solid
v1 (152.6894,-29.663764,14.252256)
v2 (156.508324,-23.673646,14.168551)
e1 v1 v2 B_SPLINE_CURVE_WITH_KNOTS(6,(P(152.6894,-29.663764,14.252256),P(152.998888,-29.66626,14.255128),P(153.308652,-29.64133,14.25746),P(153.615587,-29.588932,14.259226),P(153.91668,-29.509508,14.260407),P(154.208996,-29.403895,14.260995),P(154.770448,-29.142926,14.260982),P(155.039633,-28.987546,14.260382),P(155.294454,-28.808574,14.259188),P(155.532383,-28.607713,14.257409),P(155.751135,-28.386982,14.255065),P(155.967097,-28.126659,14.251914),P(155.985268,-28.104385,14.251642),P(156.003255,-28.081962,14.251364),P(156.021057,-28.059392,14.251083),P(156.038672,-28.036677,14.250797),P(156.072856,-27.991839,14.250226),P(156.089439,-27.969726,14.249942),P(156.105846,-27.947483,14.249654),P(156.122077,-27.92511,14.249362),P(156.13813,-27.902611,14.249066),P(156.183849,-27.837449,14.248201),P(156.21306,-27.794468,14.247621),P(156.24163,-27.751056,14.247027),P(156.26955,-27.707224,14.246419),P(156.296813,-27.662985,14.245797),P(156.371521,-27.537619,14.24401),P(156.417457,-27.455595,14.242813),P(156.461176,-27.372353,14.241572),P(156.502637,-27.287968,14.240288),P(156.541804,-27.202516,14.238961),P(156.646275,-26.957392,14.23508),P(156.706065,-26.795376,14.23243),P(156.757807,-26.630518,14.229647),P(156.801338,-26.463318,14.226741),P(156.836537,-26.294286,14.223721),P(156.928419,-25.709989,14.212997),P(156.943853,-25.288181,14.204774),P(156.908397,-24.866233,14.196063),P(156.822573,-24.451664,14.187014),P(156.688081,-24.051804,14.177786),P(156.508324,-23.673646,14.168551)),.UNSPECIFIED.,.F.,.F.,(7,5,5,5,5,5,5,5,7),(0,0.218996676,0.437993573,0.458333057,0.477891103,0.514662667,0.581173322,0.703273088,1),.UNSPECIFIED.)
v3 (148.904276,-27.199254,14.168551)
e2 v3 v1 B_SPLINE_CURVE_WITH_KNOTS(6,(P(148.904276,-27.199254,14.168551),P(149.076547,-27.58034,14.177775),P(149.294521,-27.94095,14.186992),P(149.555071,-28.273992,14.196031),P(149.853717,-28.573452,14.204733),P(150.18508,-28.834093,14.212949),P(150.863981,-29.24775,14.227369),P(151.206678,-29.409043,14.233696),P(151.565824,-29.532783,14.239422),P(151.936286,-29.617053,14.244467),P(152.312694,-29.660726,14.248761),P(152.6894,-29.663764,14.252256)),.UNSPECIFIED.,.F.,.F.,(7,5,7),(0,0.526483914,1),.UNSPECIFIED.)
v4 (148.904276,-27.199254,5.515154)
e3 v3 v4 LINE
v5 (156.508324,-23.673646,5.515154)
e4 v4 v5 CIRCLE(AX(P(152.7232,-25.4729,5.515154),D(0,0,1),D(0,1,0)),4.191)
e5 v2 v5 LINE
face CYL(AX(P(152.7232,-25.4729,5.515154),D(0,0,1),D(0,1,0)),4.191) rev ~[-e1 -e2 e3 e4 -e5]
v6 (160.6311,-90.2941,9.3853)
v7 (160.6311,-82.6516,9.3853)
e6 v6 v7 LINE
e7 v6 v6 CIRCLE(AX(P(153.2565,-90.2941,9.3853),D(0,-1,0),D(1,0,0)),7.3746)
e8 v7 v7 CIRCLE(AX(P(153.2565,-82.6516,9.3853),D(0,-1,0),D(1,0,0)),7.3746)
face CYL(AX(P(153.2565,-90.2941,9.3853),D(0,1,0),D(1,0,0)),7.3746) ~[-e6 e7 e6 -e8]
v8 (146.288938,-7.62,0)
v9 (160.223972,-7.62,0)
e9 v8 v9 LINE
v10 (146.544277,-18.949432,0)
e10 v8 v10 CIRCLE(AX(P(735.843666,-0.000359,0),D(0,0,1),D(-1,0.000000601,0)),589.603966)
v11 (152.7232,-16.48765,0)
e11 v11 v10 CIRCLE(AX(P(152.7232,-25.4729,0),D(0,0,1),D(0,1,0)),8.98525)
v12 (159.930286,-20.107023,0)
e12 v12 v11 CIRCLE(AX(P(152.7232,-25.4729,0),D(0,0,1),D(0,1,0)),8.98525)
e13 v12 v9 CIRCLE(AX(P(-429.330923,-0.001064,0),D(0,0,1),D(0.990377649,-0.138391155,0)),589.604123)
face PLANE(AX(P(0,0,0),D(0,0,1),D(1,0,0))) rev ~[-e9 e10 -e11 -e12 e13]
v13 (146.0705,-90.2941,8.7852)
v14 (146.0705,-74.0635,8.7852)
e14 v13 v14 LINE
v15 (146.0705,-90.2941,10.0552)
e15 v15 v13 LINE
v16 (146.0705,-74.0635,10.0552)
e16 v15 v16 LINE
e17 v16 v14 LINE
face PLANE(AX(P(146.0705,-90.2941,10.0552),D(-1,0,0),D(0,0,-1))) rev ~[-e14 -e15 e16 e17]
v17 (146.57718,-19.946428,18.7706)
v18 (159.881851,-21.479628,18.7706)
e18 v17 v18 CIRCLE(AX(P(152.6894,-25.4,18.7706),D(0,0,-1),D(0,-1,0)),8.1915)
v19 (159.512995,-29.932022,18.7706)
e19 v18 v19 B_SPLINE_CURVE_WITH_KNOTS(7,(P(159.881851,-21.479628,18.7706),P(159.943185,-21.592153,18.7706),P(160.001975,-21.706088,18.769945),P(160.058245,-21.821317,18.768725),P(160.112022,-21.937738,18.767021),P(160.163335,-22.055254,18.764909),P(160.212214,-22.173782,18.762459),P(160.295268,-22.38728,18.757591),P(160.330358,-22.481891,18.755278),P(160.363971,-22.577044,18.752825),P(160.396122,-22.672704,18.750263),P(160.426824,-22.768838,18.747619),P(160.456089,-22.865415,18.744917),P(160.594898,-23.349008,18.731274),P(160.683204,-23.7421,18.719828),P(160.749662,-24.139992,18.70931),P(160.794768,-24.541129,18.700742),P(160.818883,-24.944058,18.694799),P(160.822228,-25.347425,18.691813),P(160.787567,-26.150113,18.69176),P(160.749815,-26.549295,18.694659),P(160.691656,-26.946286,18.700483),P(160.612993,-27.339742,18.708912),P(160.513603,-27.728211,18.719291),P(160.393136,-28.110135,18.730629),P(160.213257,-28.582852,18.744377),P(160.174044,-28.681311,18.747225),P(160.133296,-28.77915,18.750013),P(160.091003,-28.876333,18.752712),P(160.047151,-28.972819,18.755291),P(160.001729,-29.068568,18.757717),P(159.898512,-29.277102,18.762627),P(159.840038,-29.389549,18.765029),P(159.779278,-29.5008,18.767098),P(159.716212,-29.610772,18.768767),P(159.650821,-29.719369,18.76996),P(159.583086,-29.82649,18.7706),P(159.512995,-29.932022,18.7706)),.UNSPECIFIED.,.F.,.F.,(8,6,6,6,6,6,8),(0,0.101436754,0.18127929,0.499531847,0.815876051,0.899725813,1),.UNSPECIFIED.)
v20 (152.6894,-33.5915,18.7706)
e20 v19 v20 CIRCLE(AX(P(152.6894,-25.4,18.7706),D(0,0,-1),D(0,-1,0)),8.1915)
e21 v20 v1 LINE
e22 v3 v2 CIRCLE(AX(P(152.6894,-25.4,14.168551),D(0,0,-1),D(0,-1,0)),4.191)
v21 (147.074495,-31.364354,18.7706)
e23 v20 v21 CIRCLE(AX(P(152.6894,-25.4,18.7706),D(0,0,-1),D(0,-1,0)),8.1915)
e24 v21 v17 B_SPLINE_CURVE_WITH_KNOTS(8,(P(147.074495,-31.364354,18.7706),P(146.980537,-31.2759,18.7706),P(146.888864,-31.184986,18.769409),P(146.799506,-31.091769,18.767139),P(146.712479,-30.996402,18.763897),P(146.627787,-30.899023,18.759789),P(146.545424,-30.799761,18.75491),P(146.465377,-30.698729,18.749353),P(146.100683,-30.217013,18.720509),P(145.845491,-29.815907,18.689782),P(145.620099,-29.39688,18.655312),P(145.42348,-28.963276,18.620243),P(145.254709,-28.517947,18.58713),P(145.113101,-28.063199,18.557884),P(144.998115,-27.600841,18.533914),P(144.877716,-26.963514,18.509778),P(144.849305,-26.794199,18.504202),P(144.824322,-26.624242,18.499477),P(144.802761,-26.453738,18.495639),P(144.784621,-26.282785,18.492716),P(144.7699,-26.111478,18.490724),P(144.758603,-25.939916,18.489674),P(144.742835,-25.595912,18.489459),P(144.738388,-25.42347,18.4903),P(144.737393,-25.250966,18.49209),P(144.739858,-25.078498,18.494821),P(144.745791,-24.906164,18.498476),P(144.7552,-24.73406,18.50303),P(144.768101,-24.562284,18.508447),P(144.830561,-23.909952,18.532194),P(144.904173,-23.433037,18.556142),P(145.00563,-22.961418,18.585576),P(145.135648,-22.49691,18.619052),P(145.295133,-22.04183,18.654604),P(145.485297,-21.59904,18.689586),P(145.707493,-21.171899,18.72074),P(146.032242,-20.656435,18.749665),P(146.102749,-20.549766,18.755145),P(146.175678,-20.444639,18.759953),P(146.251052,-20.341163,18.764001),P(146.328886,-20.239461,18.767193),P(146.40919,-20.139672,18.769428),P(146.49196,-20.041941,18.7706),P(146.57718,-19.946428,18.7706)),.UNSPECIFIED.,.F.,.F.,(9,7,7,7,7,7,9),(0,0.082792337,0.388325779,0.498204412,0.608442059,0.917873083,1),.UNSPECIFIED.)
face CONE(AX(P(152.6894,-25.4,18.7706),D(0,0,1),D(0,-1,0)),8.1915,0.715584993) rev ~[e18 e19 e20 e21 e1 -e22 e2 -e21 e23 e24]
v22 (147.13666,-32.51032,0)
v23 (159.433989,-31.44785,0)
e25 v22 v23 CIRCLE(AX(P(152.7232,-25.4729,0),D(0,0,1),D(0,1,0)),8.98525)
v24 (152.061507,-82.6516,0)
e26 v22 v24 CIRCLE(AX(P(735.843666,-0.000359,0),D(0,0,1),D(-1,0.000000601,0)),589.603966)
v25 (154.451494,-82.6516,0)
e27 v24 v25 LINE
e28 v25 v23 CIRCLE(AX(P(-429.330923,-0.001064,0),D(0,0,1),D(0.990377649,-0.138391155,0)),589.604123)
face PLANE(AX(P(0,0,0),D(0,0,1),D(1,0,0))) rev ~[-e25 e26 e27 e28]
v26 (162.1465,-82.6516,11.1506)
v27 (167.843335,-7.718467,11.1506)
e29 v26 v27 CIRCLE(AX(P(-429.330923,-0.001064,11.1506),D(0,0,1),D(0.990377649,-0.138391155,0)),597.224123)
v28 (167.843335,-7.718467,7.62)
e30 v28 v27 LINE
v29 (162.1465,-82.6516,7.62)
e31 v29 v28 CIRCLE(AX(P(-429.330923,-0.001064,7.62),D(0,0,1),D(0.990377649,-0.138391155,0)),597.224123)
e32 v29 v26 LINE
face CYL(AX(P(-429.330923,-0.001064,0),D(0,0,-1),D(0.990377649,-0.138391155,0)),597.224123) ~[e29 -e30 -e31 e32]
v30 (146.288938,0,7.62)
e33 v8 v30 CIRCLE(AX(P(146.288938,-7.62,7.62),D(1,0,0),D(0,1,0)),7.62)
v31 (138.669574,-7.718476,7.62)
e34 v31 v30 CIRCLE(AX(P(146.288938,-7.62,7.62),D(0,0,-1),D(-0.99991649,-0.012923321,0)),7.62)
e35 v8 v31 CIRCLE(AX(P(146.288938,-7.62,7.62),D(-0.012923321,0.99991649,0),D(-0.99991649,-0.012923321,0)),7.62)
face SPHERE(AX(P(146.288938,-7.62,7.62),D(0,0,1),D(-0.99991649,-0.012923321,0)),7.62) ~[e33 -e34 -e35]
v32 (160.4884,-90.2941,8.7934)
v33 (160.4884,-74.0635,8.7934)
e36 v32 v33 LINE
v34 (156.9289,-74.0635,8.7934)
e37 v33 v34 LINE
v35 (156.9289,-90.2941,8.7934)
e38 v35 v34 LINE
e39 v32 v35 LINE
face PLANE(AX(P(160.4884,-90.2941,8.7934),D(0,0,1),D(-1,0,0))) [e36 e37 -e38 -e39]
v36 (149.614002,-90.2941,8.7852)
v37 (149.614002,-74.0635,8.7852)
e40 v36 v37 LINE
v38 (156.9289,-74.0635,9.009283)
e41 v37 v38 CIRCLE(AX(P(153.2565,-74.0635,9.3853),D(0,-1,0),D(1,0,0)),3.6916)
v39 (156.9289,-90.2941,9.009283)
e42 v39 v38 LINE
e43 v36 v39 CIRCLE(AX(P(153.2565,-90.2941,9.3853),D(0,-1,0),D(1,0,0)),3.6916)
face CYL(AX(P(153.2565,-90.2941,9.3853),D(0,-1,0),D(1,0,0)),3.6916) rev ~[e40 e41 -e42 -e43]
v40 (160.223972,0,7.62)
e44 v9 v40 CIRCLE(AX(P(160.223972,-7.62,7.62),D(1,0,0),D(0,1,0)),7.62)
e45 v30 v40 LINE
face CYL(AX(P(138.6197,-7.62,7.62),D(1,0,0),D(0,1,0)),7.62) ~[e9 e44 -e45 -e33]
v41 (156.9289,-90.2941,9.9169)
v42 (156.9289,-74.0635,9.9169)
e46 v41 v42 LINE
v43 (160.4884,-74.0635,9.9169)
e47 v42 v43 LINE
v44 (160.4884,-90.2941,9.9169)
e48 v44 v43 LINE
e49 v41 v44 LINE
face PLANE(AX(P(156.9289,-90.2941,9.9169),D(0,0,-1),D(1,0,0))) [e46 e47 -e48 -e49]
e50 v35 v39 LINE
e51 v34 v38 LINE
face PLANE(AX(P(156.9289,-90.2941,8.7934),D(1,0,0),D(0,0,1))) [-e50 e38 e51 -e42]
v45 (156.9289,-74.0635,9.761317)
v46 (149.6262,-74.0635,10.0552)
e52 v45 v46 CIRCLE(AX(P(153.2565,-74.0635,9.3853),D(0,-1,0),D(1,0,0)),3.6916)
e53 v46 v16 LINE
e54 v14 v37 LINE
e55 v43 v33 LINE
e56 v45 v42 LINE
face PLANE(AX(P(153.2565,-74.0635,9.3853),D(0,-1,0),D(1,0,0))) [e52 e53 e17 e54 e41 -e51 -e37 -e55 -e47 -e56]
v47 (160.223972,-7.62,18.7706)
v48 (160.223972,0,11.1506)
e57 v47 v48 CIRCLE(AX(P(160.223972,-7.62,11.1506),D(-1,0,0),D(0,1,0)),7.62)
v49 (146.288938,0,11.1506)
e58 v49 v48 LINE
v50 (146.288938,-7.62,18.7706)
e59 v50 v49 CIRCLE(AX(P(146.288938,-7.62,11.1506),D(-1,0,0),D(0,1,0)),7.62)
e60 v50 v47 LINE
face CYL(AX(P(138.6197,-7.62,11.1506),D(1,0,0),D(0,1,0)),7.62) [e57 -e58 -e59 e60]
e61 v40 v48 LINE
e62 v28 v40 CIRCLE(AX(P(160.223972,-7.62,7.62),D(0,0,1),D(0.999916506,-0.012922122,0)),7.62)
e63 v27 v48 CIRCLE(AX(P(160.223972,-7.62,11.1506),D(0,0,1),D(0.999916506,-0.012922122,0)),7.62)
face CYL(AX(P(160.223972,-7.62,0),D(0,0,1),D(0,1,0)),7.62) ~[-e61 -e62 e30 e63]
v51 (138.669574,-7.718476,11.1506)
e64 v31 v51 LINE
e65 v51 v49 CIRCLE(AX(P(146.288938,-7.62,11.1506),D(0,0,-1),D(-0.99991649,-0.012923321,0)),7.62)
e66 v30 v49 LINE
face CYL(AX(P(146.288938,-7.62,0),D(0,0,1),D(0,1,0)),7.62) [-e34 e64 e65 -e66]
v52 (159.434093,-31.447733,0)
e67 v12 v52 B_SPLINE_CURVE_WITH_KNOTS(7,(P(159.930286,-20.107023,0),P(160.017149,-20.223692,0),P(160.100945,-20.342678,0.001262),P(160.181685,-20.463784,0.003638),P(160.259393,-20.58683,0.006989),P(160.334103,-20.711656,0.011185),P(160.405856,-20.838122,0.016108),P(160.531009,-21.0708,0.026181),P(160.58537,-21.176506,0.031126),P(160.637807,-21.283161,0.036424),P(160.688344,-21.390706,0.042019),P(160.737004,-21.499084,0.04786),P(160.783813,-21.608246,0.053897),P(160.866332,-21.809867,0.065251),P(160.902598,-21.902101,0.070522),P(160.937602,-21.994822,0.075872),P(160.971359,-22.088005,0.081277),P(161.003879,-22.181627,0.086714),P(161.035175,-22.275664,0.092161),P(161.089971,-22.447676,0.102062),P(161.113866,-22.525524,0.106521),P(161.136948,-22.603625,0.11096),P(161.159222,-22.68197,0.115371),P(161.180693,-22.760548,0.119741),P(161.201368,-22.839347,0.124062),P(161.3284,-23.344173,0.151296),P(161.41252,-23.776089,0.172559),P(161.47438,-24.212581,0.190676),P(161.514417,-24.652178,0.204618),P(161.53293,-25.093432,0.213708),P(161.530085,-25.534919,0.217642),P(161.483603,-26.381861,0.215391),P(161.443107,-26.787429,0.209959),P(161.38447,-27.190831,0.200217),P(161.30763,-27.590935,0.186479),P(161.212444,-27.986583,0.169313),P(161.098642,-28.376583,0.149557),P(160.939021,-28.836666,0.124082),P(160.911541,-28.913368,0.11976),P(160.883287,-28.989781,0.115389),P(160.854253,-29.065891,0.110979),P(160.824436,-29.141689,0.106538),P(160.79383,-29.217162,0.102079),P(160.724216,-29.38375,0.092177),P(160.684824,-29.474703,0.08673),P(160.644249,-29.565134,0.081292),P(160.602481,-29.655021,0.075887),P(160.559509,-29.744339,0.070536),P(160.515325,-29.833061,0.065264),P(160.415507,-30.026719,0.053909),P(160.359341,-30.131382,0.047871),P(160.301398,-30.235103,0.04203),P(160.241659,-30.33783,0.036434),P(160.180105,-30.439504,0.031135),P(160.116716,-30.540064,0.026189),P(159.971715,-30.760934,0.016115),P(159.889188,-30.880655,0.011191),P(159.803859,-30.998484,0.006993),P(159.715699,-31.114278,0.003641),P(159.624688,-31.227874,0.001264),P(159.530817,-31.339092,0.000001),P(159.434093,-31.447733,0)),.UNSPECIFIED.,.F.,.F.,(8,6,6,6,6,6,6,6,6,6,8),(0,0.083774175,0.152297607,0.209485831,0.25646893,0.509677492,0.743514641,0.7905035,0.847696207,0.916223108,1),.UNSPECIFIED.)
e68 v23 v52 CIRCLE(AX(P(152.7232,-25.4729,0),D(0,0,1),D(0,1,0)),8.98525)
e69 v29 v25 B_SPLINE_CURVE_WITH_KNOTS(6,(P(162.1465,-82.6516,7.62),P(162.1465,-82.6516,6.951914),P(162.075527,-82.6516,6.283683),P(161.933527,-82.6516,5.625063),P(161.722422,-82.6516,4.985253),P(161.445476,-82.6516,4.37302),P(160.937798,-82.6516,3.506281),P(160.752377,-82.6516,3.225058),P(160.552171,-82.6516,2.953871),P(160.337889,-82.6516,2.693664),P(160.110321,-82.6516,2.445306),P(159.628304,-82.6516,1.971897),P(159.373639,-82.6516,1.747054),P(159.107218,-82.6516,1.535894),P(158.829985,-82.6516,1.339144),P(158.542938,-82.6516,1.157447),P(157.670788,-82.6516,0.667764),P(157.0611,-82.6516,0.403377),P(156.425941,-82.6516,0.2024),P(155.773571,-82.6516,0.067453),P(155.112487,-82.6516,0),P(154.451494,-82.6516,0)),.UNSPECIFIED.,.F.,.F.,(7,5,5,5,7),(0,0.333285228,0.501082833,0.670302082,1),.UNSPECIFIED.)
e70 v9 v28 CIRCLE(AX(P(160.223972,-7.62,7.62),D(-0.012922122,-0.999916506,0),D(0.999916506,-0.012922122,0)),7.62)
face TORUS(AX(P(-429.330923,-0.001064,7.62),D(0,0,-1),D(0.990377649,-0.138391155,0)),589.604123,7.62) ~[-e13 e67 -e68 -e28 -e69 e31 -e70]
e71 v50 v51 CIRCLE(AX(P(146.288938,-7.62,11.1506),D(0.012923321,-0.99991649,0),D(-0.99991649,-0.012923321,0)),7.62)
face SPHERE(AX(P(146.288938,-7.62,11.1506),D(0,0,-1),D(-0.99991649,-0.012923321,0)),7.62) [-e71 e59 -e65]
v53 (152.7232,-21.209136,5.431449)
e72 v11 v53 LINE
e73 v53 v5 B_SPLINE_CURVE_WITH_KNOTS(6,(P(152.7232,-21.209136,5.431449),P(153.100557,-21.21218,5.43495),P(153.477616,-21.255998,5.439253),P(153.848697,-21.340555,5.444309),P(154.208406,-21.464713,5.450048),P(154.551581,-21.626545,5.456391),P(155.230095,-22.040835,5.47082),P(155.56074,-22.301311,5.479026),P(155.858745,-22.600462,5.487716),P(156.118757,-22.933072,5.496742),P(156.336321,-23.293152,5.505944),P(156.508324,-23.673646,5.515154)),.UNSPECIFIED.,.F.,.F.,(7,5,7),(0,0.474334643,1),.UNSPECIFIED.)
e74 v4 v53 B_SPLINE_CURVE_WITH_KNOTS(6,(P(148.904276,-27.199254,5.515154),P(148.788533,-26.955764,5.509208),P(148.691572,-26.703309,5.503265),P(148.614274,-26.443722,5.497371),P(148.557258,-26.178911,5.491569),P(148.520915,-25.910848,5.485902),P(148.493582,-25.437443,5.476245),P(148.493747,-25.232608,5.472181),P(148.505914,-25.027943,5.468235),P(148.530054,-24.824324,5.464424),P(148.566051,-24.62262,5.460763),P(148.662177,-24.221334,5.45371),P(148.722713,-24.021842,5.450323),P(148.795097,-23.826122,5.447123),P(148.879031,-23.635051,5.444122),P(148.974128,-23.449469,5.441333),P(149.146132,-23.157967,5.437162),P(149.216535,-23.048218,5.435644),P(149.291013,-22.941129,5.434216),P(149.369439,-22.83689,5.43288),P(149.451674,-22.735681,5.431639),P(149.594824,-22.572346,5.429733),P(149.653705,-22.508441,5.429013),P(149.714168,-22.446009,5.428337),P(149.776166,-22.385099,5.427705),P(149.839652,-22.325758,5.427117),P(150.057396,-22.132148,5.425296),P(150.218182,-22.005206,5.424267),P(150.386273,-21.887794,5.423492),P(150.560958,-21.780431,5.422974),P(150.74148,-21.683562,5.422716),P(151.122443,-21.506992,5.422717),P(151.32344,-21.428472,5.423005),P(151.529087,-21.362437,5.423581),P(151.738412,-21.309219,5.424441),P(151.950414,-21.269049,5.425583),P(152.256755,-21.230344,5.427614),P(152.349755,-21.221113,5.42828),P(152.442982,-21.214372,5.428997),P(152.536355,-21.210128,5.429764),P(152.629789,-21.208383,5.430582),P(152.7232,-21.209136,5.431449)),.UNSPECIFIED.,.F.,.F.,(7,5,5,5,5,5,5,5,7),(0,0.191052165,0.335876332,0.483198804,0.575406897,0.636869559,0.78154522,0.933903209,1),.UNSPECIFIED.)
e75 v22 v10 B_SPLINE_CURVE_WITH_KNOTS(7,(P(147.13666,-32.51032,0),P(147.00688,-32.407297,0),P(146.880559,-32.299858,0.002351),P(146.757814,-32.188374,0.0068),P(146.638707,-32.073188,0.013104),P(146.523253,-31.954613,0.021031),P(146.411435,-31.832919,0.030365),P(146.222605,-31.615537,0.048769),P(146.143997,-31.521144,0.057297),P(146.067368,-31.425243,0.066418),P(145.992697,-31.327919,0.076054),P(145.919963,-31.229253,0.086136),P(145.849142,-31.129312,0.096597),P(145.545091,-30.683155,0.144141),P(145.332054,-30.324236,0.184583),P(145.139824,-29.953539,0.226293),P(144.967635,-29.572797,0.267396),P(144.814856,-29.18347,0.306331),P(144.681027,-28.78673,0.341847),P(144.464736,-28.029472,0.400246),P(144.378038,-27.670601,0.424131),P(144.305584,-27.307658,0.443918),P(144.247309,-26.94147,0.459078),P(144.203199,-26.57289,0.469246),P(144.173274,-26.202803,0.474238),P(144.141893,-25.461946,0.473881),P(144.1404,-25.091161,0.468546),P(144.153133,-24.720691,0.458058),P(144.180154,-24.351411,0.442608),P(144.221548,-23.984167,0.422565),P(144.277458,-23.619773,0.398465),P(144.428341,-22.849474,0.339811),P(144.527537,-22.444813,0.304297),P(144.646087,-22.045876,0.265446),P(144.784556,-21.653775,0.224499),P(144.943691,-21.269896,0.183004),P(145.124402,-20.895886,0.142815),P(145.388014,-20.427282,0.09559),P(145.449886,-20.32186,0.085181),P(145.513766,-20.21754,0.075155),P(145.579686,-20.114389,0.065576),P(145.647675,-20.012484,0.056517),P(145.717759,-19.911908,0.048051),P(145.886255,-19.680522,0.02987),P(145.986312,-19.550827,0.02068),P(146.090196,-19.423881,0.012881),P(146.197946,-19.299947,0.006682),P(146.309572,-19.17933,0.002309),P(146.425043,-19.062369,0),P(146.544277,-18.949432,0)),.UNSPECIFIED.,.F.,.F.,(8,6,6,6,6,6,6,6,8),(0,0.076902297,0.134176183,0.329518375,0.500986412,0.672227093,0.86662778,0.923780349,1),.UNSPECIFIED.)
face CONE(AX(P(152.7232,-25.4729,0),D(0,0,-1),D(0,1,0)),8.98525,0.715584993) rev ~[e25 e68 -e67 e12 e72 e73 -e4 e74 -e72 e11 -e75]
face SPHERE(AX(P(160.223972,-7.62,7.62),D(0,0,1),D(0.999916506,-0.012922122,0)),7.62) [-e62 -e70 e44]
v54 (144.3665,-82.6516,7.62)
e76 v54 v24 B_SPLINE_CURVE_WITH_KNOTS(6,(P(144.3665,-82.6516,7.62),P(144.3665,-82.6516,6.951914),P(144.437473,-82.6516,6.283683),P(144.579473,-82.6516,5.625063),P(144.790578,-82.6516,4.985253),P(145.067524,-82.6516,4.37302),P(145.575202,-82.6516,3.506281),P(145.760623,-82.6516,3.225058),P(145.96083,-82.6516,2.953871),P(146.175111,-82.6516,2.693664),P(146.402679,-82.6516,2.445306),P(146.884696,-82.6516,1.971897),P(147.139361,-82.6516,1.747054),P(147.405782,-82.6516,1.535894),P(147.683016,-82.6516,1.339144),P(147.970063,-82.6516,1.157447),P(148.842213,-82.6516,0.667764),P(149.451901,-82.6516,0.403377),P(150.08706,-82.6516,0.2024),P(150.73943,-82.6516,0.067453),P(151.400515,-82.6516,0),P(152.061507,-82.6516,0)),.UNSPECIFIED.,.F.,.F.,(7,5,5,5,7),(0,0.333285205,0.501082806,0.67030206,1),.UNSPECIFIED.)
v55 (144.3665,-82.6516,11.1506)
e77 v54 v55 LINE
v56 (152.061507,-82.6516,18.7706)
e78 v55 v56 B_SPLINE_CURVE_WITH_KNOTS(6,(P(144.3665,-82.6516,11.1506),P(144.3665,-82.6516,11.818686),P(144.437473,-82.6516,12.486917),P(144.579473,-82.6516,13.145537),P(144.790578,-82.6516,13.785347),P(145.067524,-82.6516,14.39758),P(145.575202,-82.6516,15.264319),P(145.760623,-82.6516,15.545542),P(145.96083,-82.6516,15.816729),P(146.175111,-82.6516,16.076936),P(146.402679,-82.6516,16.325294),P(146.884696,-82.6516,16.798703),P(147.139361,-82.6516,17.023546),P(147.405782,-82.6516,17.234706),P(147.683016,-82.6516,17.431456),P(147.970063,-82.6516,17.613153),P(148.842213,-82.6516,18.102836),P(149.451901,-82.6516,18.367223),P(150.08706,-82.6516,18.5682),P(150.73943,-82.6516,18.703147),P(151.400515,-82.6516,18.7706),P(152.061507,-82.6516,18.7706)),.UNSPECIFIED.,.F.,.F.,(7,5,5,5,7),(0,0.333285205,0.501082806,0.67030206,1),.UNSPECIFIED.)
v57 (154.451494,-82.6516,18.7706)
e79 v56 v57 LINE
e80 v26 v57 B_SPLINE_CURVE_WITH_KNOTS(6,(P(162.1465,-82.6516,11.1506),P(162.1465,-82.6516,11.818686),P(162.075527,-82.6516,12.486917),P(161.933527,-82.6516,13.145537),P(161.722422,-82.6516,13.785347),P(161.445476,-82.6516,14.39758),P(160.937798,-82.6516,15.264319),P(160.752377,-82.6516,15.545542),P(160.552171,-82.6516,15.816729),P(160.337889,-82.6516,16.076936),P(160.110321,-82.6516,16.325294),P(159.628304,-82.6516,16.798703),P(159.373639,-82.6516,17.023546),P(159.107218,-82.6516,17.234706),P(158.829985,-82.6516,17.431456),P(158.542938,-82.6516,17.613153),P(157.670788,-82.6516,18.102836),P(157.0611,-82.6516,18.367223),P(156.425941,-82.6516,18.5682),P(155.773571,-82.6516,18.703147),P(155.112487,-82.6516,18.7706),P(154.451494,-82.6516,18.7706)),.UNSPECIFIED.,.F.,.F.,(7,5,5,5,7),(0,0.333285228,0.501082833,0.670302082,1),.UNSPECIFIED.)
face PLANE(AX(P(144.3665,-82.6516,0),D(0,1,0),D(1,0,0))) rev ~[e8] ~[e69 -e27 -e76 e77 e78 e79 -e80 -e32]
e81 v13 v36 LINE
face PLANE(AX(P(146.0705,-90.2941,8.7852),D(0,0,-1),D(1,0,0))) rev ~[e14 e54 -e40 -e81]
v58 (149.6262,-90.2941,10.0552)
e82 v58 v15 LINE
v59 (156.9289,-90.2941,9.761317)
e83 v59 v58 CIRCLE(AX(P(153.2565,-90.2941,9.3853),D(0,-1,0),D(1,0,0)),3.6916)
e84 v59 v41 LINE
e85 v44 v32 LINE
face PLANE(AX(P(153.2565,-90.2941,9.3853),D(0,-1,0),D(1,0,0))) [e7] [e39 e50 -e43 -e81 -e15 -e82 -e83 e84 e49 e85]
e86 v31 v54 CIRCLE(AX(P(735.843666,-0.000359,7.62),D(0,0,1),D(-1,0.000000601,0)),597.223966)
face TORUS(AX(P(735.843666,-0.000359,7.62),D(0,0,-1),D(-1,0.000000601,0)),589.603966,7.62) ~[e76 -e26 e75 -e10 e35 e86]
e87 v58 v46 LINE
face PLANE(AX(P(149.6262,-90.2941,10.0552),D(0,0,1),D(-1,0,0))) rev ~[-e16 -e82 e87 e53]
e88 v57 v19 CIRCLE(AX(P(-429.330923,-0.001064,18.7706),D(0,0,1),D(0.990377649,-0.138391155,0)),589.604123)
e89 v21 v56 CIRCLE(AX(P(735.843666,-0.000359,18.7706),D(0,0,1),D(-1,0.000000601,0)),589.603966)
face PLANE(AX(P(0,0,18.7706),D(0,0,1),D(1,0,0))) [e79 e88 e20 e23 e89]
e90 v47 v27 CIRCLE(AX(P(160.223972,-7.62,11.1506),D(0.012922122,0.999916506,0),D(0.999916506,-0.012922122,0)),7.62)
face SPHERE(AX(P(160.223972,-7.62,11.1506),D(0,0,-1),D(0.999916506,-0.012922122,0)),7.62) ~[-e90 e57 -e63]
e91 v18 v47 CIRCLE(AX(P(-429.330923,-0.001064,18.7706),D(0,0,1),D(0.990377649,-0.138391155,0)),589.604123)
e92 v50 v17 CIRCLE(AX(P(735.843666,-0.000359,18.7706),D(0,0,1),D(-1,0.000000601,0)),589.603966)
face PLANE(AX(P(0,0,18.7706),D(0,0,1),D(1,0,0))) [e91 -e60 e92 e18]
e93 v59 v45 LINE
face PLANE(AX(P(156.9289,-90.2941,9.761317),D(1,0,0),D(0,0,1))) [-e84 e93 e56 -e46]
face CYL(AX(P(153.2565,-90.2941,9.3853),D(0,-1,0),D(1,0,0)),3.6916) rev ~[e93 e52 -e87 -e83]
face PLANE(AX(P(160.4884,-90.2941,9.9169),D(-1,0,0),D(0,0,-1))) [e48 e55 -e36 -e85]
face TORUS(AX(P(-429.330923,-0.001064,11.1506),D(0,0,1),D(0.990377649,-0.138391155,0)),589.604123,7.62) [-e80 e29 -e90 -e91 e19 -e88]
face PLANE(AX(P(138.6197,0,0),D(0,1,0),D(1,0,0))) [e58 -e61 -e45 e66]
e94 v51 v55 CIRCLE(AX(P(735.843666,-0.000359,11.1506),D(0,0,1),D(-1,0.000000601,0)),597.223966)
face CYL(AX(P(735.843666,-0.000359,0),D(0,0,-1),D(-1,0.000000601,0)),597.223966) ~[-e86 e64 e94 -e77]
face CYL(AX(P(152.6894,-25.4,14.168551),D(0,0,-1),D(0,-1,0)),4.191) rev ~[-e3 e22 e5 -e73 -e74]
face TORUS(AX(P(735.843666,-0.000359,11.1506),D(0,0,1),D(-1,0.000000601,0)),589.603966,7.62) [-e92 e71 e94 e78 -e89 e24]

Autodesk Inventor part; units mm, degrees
ref_plane "YZ Plane" through (0, 0, 0) normal (1, 0, 0) x (0, 1, 0)
ref_plane "XZ Plane" through (0, 0, 0) normal (0, 1, 0) x (-1, 0, 0)
sketch "Sketch1" plane through (0, 0, 0) normal (0, 0, 1) x (1, 0, 0)
  line L0 (138.6197, 0) -> (167.8932, 0)
  line L1 (144.3665, -82.6516) -> (162.1465, -82.6516)
  arc A0 (162.1465, -82.6516) -> (167.8932, 0) centre (-429.3411, 0) ccw
  arc A1 (138.6197, 0) -> (144.3665, -82.6516) centre (735.854, 0) ccw
  point P0 (0, 0)
  point P1 (161.6207, -82.6516)
  point P2 (153.734, -82.6516)
  dimension "d0" = 29.2735
  dimension "d2" = 17.78
extrude "Extrusion1" add sketch "Sketch1" along normal blind 18.7706
fillet "Fillet1" radius 7.62 8 edges at (140.0581, -41.4256, 18.7706) (166.4548, -41.4256, 18.7706) (153.2565, 0, 18.7706) (153.2565, 0, 0) (138.6197, 0, 9.3853) (167.8932, 0, 9.3853) (140.0581, -41.4256, 0) (166.4548, -41.4256, 0)
sketch "Sketch2" plane through (152.0615, -82.6516, 18.7706) normal (0, -1, 0) x (1, 0, 0)
  line L0 (10.085, -11.1506) -> (10.085, -7.62) projected
  line L1 (10.085, -9.3853) -> (-7.695, -9.3853)
  line L2 (-7.695, -11.1506) -> (-7.695, -7.62) projected
  point P0 (-152.0615, -18.7706)
ref_plane "Work Plane1" through (162.1465, -82.6516, 9.3853) normal (0, 0, 1) x (-1, 0, 0)
sketch "Sketch3" plane through (162.1465, -82.6516, 9.3853) normal (0, 0, 1) x (-1, 0, 0)
  arc A0 (0, 0) -> (-5.6969, -74.9331) centre (591.4875, -82.6516) ccw projected
  line L0 (1.5154, 7.6425) -> (1.5154, 0)
  arc A1 (0, 0) -> (-5.6969, -74.9331) centre (591.4875, -82.6516) ccw projected
  line L1 (-5.6969, -74.9331) -> (8.89, 0)
  line L2 (8.89, 0) -> (8.89, 7.6425)
  line L3 (1.5154, 7.6425) -> (8.89, 7.6425)
  line L4 (8.89, 0) -> (0, 0)
  point P0 (162.1465, -82.6516)
  dimension "d14" = 76.3397
revolve "Revolution2" add sketch "Sketch3" angle 360 about axis through (153.2565, -82.6516, 9.3853) along (0, -1, 0) contours L0 L3 L2 L4
sketch "Sketch4" plane through (153.2565, -90.2941, 9.3853) normal (0, -1, 0) x (1, 0, 0)
  circle A0 centre (0, 0) radius 3.6916
  circle A1 centre (0, 0) radius 7.3746 projected
  line L0 (-3.6303, 0.6699) -> (-7.186, 0.6699)
  line L1 (-7.186, 0.6699) -> (-7.186, -0.6001)
  line L2 (-7.186, -0.6001) -> (-3.6303, -0.6001)
  line L3 (-3.6303, -0.6001) -> (-3.6303, 0.6699)
  line L4 (3.6724, 0.5316) -> (7.2319, 0.5316)
  line L5 (7.2319, 0.5316) -> (7.2319, -0.5919)
  line L6 (7.2319, -0.5919) -> (3.6724, -0.5919)
  line L7 (3.6724, -0.5919) -> (3.6724, 0.5316)
  point P0 (-153.2565, -9.3853)
  dimension "d17" = 3.683
  dimension "d18" = 1.27
extrude "Extrusion2" cut sketch "Sketch4" against normal blind 16.2306 contours A0 L7 | A0 L7 L4 L5 L6 | L7 A0 L2 L3 | L3 L2 A0 | A0 L2 L1 L0
sketch "Sketch5" plane through (0, 0, 18.7706) normal (0, 0, 1) x (1, 0, 0)
  line L0 (160.224, 0) -> (146.289, 0) projected
  line L1 (152.6894, 0) -> (178.0894, 0) construction
  circle A0 centre (152.6894, -25.4) radius 8.3376
  point P0 (0, 0)
  dimension "d23" = 16.6751
hole "Hole1" at (152.6894, -25.4, 18.7706) direction (0, 0, -1) diameter 8.382 end through all countersink diameter 16.383 countersink angle 82
sketch "Sketch6" plane through (0, 0, 0) normal (0, 0, -1) x (-1, 0, 0)
  line L0 (-160.224, 0) -> (-146.289, 0) projected
  line L1 (-153.2565, 0) -> (-152.7232, -25.4729)
  point P0 (0, 0)
hole "Hole2" at (152.7232, -25.4729, 0) direction (0, 0, 1) diameter 8.382 end through all countersink diameter 17.9705 countersink angle 82
properties part number "dis3"
